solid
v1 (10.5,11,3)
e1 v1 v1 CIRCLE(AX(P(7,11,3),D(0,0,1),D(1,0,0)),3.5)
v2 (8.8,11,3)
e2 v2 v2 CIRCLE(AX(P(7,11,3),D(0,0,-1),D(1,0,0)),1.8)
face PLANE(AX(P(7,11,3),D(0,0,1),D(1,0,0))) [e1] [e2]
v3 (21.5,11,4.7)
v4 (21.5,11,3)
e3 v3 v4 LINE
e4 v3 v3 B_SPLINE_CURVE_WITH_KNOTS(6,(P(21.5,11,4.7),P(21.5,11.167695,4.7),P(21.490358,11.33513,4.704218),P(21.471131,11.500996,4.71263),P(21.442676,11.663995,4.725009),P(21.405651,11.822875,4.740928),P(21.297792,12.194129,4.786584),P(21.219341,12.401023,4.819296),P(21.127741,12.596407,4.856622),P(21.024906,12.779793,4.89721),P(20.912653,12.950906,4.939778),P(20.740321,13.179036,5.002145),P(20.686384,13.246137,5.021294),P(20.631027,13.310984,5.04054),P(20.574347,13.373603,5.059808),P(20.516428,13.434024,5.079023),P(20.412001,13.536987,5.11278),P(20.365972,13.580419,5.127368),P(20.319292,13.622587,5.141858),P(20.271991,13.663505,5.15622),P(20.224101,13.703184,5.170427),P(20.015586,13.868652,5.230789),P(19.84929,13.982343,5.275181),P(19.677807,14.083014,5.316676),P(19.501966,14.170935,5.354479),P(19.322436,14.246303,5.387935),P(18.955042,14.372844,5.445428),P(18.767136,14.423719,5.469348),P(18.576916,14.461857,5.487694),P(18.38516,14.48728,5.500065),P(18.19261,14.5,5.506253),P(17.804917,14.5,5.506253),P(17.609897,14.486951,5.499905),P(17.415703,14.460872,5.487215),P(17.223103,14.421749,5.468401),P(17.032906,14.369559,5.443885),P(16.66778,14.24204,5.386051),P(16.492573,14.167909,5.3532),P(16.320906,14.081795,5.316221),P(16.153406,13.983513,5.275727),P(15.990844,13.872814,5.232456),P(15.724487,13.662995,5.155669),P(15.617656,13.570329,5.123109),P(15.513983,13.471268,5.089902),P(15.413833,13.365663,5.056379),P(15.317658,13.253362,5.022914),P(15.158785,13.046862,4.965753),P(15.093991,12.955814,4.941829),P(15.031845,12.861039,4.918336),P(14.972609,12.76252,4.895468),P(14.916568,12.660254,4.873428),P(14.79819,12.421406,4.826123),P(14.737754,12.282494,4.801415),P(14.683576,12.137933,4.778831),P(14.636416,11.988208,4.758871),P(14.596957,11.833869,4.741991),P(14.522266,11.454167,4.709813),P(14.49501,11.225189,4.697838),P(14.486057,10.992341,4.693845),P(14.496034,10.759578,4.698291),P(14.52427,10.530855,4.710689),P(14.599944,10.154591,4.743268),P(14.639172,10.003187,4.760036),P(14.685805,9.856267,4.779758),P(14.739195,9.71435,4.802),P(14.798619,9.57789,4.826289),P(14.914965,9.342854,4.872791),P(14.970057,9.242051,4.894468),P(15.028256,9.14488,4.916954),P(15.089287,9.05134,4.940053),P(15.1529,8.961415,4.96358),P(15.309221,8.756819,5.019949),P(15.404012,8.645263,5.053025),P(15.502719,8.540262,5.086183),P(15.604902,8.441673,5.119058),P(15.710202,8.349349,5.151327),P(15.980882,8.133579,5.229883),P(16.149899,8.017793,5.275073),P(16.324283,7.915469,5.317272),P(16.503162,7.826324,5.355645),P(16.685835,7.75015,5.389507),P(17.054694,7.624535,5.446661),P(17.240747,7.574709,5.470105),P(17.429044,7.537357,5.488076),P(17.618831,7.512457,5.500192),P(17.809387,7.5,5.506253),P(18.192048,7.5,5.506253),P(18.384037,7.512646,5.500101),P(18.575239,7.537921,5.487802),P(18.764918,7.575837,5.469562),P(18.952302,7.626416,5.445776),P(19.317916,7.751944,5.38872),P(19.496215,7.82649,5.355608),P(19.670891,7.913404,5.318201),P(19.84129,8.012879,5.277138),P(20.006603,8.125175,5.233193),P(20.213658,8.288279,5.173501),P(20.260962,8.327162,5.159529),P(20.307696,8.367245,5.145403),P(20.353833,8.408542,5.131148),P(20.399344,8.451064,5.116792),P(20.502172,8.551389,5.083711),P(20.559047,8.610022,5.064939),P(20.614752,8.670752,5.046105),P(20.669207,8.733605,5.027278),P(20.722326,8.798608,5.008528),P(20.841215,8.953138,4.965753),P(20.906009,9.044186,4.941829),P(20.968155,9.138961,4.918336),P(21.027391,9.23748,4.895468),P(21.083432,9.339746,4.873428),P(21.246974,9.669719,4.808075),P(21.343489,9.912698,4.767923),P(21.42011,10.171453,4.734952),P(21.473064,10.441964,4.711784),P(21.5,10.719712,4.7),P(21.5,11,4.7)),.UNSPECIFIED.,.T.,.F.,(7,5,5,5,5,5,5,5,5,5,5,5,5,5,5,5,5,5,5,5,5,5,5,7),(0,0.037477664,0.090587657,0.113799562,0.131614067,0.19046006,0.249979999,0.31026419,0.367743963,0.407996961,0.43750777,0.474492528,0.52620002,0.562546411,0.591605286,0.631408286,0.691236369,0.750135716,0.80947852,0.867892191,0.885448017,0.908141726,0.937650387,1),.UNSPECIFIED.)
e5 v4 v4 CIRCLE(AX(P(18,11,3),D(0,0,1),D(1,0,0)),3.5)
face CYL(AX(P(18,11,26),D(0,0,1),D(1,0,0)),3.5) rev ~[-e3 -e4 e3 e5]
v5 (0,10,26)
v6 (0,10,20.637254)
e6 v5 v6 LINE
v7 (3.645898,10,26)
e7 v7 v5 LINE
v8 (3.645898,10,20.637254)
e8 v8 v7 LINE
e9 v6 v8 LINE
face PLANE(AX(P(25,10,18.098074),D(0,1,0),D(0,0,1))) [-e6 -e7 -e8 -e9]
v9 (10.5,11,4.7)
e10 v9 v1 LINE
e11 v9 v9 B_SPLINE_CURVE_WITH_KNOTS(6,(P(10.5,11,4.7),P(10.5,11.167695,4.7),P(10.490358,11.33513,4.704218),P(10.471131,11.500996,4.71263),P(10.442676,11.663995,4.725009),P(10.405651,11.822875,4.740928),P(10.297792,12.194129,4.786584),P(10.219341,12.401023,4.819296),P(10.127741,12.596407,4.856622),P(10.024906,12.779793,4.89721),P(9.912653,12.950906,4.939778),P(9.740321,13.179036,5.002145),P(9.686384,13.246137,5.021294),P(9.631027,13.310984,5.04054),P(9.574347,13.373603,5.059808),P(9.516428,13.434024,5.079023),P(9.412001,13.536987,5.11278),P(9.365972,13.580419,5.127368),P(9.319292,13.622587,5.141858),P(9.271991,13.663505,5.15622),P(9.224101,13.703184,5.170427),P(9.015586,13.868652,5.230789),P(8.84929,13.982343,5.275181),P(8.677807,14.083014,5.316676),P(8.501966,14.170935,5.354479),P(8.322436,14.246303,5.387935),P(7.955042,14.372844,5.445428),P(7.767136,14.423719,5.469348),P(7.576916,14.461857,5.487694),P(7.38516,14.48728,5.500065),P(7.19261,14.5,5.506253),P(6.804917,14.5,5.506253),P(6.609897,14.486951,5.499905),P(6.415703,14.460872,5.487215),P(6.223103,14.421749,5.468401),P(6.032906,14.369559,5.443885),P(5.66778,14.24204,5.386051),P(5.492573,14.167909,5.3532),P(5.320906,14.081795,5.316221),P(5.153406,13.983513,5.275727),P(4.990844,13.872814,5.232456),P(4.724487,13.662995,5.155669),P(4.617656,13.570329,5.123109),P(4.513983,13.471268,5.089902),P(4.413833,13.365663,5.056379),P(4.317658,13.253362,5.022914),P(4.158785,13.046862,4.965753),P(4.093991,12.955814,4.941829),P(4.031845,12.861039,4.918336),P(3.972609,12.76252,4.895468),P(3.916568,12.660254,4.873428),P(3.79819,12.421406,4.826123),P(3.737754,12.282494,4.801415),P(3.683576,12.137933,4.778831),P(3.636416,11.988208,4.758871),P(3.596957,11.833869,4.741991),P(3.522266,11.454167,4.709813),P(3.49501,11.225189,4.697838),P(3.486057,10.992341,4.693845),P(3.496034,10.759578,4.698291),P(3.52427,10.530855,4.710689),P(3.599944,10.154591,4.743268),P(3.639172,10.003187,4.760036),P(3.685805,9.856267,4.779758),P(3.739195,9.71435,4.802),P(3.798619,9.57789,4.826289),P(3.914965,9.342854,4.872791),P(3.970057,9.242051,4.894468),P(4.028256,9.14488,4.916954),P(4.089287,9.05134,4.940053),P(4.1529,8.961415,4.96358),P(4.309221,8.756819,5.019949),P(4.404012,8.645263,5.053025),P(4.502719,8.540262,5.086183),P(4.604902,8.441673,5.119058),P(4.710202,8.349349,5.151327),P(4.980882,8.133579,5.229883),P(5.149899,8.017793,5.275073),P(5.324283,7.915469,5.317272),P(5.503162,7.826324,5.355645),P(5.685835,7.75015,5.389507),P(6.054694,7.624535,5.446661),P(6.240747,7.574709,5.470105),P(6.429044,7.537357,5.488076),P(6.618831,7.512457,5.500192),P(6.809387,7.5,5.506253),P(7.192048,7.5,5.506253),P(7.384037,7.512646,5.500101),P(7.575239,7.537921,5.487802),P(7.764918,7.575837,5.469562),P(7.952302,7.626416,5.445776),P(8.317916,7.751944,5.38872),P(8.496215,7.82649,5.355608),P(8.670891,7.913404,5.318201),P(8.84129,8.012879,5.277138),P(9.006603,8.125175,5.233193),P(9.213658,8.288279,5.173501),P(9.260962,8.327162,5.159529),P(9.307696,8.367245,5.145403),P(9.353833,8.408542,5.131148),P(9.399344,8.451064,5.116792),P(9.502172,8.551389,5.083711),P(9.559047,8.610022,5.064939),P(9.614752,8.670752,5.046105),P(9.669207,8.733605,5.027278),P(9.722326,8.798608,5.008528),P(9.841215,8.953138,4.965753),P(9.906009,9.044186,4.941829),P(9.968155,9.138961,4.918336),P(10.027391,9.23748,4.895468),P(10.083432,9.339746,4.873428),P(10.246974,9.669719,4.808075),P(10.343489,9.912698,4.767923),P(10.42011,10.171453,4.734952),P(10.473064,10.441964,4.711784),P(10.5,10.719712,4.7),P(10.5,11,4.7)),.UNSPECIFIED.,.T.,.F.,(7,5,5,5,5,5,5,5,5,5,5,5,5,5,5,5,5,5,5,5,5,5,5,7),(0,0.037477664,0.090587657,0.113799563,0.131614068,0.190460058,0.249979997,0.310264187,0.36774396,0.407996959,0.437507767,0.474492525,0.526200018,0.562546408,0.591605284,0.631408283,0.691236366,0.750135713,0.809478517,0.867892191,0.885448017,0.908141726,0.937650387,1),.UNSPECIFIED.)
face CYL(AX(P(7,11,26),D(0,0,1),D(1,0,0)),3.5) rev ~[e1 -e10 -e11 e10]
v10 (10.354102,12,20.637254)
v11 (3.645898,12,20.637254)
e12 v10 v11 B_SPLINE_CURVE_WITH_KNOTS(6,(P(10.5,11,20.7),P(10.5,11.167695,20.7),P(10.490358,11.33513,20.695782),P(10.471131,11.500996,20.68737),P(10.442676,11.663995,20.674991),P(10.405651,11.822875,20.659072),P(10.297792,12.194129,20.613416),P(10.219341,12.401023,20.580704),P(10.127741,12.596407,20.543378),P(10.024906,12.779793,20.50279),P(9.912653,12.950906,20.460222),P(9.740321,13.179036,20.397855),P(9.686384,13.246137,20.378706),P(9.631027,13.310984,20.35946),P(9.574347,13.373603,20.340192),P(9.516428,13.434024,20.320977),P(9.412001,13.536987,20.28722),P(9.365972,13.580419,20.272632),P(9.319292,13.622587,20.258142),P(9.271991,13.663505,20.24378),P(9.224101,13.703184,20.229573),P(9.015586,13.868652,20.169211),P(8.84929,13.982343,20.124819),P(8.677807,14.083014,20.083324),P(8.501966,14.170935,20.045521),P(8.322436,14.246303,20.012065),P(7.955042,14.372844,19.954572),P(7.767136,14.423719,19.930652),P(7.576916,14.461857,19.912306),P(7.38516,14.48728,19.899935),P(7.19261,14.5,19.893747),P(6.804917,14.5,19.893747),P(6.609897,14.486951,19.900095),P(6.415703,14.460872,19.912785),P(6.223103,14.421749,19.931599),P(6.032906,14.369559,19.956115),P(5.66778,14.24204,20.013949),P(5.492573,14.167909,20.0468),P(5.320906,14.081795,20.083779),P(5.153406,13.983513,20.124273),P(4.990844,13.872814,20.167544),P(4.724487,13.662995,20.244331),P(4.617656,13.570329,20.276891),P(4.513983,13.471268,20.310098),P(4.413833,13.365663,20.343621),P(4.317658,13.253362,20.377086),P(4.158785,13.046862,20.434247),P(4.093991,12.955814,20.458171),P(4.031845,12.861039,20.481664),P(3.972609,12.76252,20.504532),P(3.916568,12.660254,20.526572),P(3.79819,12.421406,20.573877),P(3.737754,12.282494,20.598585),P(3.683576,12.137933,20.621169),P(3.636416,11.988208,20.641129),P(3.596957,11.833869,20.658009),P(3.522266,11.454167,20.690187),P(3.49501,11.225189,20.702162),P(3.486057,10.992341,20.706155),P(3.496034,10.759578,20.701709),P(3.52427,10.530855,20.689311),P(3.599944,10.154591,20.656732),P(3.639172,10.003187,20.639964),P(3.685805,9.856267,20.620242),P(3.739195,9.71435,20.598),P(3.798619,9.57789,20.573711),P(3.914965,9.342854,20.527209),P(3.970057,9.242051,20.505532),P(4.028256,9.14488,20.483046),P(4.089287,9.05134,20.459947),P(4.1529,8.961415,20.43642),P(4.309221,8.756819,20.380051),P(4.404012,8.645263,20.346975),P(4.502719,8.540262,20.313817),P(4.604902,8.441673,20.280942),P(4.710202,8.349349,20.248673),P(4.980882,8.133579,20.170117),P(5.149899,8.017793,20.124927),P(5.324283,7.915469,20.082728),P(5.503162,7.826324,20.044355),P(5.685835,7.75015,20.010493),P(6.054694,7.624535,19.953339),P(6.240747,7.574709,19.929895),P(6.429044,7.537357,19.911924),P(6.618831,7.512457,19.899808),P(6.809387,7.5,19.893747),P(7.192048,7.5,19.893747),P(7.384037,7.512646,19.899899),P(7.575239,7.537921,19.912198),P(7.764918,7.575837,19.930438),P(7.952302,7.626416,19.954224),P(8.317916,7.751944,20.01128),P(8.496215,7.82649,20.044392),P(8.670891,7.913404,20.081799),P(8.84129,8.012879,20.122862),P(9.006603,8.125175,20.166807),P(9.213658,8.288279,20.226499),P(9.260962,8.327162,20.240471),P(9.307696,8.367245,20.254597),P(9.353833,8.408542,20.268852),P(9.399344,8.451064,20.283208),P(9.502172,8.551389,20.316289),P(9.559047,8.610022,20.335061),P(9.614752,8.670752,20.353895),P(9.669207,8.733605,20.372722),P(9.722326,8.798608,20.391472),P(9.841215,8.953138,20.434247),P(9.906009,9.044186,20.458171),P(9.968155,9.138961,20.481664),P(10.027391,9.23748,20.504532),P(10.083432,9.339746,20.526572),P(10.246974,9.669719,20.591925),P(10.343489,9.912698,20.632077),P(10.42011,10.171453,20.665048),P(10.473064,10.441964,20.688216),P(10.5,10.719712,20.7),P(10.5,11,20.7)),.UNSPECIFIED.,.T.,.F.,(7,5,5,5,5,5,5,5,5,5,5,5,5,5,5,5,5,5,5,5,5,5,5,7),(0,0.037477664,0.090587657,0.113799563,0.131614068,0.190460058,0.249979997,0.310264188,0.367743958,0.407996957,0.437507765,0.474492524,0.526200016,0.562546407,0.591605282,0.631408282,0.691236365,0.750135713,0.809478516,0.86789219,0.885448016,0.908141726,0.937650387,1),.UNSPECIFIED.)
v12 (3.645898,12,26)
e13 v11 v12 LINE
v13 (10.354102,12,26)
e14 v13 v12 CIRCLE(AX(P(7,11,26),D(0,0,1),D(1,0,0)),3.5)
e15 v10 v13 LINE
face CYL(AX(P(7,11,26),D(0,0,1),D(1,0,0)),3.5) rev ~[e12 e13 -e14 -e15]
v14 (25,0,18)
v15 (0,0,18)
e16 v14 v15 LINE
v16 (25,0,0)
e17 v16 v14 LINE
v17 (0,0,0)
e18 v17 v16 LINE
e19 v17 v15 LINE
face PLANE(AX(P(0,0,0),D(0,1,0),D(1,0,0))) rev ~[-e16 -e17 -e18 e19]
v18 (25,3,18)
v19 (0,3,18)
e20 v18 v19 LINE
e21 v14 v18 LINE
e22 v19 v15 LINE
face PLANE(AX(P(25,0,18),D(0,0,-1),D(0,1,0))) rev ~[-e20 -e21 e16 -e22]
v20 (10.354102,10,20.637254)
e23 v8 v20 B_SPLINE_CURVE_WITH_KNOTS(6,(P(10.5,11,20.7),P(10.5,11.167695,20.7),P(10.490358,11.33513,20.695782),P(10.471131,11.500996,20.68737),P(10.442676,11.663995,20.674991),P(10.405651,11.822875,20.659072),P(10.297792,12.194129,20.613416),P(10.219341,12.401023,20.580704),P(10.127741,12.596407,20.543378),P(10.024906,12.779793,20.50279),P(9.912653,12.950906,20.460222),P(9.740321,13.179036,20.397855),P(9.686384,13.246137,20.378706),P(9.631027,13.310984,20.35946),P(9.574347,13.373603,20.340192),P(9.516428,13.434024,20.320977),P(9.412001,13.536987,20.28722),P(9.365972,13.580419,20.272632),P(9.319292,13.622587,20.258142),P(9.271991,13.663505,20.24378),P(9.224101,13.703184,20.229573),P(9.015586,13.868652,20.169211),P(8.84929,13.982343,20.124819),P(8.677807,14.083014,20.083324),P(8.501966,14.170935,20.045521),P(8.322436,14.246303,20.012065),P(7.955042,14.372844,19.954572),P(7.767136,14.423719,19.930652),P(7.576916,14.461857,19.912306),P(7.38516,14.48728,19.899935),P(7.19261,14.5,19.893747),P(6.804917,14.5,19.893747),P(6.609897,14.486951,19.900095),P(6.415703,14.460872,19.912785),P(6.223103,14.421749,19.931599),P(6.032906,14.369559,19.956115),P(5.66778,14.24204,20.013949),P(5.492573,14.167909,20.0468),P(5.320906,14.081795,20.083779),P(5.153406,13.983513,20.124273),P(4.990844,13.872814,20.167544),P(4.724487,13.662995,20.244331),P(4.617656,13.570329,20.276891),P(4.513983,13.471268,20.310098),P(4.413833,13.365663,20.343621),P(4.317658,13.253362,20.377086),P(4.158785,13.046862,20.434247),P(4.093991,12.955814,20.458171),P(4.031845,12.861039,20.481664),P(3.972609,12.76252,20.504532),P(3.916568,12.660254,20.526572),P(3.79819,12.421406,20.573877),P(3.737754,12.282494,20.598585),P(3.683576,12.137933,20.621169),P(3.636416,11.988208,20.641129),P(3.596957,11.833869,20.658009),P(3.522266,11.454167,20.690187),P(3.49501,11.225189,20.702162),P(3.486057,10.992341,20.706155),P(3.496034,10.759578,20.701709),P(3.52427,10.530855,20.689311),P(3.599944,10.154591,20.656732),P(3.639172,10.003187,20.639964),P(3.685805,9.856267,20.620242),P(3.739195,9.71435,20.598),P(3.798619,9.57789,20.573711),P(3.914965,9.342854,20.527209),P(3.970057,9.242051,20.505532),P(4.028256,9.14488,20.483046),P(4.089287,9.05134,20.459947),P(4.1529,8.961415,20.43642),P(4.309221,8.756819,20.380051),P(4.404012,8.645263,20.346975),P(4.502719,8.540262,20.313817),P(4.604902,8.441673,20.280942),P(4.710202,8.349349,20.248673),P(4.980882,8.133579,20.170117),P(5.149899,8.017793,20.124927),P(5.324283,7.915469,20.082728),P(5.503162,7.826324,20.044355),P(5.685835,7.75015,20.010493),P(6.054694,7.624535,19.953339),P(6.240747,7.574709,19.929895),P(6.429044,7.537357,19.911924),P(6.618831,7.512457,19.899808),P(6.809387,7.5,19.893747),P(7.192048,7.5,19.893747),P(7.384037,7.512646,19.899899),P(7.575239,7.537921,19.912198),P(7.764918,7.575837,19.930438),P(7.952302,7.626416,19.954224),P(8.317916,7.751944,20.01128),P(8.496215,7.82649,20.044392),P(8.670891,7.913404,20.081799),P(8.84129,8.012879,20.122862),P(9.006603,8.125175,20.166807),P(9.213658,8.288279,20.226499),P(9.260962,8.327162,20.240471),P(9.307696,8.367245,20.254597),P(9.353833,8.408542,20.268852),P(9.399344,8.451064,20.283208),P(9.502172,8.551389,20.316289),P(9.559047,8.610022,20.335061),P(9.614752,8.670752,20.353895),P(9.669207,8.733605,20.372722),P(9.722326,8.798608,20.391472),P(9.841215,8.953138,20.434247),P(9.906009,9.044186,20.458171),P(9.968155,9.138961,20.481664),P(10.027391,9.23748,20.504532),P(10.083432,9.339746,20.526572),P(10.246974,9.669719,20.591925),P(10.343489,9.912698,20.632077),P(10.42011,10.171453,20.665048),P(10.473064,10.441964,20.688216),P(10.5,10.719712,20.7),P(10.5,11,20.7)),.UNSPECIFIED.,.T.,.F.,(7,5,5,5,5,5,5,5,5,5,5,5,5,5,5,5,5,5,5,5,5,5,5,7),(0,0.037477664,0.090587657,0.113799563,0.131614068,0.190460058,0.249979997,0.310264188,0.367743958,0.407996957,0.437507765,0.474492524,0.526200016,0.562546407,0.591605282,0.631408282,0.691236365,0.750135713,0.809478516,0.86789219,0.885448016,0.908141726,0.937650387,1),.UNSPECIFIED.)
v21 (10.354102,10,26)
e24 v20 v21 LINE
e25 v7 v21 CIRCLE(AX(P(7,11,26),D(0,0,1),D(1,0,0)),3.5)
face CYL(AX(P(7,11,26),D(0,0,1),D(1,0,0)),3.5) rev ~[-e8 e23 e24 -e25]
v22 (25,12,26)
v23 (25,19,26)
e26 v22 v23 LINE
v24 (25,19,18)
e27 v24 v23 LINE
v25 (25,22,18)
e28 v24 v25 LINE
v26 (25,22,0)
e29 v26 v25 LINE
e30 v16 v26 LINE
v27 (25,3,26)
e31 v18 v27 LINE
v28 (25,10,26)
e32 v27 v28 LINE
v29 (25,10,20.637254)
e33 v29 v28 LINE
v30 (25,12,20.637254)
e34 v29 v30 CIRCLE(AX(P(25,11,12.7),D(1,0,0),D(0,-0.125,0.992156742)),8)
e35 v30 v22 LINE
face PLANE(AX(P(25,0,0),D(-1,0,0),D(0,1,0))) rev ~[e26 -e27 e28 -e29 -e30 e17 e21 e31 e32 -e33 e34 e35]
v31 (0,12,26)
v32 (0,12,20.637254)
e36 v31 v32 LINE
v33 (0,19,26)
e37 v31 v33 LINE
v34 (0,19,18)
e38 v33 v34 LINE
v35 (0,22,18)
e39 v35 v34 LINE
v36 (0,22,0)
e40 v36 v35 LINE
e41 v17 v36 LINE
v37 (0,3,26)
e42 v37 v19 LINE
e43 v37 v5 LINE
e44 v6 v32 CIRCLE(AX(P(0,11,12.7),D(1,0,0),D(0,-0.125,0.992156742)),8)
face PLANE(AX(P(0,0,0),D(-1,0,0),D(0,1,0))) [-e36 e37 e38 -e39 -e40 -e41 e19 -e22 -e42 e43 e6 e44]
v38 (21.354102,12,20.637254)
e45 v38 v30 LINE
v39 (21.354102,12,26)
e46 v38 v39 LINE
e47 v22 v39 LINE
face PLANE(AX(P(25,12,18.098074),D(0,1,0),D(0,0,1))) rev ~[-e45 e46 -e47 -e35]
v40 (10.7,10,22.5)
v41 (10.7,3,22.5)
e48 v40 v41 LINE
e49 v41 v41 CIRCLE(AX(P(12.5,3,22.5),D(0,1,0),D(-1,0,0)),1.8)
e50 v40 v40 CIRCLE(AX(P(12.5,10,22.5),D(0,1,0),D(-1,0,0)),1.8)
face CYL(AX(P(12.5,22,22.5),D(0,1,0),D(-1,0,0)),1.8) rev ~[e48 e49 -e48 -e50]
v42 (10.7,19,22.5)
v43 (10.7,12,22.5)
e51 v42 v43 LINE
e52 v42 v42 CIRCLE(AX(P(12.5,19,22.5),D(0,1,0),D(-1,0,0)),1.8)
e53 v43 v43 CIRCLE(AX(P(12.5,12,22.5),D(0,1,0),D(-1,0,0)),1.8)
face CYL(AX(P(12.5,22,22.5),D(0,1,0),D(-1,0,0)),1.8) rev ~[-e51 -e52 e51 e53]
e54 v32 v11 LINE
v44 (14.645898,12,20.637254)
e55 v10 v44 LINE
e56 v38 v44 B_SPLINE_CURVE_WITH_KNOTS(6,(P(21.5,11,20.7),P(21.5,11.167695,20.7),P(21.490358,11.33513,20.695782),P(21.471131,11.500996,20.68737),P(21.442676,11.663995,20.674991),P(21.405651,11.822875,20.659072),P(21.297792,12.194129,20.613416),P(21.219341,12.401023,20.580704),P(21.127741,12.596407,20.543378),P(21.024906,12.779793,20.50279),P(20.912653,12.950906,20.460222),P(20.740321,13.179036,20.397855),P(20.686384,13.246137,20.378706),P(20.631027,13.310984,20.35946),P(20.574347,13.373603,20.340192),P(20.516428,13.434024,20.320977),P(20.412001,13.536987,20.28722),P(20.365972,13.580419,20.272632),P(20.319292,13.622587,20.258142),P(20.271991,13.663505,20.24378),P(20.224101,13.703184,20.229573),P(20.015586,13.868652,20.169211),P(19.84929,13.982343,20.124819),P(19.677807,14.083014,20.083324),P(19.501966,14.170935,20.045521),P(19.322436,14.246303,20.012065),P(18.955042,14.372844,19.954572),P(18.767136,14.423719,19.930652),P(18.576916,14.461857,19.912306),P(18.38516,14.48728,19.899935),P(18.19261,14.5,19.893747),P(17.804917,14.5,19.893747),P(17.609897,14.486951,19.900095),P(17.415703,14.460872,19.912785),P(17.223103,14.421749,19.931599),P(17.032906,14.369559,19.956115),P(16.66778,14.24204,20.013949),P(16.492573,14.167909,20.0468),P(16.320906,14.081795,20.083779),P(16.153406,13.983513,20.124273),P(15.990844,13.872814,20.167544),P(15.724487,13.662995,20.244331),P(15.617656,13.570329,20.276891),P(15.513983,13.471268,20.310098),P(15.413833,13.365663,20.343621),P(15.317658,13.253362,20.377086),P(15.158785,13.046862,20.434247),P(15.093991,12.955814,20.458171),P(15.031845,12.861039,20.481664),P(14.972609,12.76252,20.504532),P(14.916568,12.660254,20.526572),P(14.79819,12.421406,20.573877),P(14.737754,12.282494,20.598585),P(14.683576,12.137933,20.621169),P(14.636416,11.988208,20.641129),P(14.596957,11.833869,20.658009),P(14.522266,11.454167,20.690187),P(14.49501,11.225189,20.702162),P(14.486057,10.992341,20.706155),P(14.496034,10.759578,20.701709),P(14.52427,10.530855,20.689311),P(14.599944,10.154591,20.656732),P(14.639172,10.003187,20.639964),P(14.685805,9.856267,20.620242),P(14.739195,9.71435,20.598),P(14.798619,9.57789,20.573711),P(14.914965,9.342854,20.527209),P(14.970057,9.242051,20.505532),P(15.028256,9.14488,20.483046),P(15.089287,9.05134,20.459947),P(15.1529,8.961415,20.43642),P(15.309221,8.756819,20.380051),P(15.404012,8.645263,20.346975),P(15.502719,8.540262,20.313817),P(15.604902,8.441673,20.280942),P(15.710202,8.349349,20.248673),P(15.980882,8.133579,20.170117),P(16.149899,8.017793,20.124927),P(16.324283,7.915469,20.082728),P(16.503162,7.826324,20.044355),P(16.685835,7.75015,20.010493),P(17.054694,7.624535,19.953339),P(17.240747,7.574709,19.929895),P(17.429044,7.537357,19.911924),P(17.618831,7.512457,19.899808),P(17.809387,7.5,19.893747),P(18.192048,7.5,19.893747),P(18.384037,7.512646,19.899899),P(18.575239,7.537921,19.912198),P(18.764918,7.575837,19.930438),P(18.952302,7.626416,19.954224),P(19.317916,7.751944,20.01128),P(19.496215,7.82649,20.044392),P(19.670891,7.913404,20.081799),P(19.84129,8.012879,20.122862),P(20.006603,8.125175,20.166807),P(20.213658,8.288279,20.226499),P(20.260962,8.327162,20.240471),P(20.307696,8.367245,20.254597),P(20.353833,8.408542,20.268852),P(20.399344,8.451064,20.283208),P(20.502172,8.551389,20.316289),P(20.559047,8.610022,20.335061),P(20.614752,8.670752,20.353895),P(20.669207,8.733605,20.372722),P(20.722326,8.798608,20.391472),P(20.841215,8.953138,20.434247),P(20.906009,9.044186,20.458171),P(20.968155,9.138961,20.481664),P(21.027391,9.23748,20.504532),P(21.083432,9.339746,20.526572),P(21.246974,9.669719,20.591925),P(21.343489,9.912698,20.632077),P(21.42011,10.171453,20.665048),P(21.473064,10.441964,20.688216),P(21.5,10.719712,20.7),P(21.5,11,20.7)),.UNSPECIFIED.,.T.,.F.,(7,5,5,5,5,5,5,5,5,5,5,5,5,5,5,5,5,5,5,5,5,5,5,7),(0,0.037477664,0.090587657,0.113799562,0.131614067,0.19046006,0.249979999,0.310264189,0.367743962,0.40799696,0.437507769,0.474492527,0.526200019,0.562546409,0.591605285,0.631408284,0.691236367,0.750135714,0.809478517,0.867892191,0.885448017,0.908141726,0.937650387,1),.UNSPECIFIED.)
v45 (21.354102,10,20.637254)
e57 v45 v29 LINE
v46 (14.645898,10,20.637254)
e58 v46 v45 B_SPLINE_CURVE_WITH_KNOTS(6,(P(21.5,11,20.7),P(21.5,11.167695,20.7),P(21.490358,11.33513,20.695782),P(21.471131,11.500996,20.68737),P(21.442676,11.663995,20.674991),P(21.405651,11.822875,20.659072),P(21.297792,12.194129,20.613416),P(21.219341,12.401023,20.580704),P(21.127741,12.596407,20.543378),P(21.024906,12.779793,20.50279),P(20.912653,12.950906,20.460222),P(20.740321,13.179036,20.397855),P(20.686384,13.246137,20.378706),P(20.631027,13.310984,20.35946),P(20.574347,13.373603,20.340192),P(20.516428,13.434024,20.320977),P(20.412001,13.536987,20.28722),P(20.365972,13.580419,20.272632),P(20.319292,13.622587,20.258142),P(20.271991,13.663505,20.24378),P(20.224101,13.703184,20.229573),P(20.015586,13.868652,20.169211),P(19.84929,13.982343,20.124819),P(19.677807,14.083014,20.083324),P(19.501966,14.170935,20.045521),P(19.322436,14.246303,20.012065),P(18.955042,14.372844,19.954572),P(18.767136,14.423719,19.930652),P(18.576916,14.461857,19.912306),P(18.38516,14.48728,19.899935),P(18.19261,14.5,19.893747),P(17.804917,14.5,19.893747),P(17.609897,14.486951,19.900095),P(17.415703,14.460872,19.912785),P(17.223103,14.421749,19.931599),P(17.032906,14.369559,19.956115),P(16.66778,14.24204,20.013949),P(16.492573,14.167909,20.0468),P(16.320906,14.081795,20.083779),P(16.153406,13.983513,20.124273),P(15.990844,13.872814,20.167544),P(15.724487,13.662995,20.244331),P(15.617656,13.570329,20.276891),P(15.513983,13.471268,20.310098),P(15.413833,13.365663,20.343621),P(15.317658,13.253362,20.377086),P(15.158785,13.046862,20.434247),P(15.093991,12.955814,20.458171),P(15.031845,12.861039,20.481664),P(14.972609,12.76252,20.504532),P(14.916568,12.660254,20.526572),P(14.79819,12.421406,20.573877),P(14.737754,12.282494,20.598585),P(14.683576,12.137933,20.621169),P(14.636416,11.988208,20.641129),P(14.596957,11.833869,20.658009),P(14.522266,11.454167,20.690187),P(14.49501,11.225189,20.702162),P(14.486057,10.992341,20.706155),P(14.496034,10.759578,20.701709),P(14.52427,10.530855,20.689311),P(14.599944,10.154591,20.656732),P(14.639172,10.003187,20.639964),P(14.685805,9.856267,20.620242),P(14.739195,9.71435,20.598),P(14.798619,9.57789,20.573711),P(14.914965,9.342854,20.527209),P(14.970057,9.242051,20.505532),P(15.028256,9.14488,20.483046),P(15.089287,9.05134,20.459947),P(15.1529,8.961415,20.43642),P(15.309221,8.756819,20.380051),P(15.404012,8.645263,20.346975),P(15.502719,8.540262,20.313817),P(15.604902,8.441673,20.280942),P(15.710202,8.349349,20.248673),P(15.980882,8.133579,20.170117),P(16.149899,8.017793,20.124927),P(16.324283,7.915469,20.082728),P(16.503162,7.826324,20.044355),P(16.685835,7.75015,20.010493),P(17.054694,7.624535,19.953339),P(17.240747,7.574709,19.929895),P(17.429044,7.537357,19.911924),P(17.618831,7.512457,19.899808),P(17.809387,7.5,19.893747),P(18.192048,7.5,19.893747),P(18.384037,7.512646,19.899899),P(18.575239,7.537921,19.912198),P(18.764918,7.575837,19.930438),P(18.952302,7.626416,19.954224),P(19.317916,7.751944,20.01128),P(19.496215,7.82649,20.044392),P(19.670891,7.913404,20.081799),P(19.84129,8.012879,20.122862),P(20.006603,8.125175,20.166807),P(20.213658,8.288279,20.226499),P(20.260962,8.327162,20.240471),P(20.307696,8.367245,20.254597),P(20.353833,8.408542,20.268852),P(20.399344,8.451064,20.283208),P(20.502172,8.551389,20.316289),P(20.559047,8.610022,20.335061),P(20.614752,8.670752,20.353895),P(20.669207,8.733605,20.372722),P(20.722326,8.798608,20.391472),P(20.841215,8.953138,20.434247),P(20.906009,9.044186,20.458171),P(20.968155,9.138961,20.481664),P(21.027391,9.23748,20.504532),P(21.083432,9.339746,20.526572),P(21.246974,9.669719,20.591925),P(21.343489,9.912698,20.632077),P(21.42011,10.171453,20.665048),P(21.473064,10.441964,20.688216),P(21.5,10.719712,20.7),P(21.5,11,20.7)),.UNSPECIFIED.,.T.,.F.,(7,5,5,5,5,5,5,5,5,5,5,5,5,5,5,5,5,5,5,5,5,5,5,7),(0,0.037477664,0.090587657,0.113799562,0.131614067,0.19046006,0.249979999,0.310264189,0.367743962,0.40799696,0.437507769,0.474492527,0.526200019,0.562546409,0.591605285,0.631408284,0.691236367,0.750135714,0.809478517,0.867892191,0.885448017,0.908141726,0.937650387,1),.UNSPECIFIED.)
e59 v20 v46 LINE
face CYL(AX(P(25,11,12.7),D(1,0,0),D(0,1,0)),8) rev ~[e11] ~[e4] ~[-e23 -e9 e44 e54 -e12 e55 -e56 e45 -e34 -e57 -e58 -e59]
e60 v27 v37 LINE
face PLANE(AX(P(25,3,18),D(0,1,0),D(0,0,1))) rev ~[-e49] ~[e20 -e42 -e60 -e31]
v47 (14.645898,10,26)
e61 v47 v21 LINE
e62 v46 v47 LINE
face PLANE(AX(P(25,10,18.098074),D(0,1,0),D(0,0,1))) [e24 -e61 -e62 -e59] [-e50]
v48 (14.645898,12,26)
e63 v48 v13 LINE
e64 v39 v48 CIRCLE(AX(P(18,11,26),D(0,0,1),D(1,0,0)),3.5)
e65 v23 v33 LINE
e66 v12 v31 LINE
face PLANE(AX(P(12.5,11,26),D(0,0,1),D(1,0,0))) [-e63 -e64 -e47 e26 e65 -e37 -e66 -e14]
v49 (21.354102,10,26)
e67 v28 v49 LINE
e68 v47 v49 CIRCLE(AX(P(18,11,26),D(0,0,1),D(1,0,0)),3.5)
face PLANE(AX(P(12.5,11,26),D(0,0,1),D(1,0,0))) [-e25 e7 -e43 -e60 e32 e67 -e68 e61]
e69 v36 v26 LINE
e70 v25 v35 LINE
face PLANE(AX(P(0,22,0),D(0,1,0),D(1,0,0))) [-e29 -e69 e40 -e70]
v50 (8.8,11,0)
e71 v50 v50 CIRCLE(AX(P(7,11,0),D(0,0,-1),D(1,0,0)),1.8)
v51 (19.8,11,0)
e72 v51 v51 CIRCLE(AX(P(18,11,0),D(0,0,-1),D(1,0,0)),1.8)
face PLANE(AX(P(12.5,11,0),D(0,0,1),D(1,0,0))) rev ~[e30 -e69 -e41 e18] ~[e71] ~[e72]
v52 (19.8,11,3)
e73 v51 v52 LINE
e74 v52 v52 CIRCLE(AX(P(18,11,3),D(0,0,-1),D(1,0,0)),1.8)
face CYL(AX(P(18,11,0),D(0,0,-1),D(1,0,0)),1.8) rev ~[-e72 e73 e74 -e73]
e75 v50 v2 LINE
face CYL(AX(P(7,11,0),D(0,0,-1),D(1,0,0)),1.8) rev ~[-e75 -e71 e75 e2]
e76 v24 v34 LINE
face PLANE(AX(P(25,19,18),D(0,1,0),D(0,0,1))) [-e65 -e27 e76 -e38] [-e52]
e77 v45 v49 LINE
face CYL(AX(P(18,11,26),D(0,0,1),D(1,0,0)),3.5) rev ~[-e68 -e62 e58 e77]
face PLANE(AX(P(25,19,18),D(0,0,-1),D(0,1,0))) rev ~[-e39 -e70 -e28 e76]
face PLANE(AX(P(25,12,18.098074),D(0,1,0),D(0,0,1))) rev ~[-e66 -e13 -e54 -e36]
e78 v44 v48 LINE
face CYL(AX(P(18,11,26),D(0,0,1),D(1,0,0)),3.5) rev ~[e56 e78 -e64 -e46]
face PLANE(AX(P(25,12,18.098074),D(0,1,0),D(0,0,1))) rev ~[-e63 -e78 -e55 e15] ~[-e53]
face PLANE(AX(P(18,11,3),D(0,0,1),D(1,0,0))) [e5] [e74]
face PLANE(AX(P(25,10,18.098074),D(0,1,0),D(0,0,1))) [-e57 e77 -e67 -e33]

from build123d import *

# Parameters (mm, degrees)
BOX_W           = 25
BOX_H           = 22
BOX_DEPTH       = 26
SKETCH_R        = 8
POCKET_DEPTH    = 25.001
SKETCH001_R     = 3.5
POCKET001_DEPTH = 23
SKETCH002_R     = 1.8
POCKET002_DEPTH = 5
SKETCH003_R     = 1.8
POCKET003_DEPTH = 22.001
SKETCH004_W     = 2
SKETCH004_H     = 11.298807
SKETCH004_W_2   = 3
SKETCH004_H_2   = 8
POCKET004_DEPTH = 25.001


with BuildPart() as part:
    # Box → Box (new body)
    with BuildSketch(Plane.XY):
        with Locations((12.5, 11)):
            Rectangle(BOX_W, BOX_H)
    extrude(amount=BOX_DEPTH)

    # Sketch → Pocket (cut, through all)
    with BuildSketch(Plane.YZ.offset(25)):
        with Locations((11, 12.7)):
            Circle(SKETCH_R)
    extrude(amount=-POCKET_DEPTH, mode=Mode.SUBTRACT)

    # Sketch001 → Pocket001 (cut)
    with BuildSketch(Plane.XY.offset(26)):
        with Locations((7, 11)):
            Circle(SKETCH001_R)
        with Locations((18, 11)):
            Circle(SKETCH001_R)
    extrude(amount=-POCKET001_DEPTH, mode=Mode.SUBTRACT)

    # Sketch002 → Pocket002 (cut)
    with BuildSketch(Plane(origin=(0, 0, 0), x_dir=(1, 0, 0), z_dir=(0, 0, -1))):
        with Locations((7, -11)):
            Circle(SKETCH002_R)
        with Locations((18, -11)):
            Circle(SKETCH002_R)
    extrude(amount=-POCKET002_DEPTH, mode=Mode.SUBTRACT)

    # Sketch003 → Pocket003 (cut, through all)
    with BuildSketch(Plane(origin=(0, 22, 0), x_dir=(-1, 0, 0), z_dir=(0, 1, 0))):
        with Locations((-12.5, 22.5)):
            Circle(SKETCH003_R)
    extrude(amount=-POCKET003_DEPTH, mode=Mode.SUBTRACT)

    # Sketch004 → Pocket004 (cut, through all)
    with BuildSketch(Plane.YZ.offset(25)):
        with Locations((11, 23.747477)):
            Rectangle(SKETCH004_W, SKETCH004_H)
        with Locations((1.5, 22)):
            Rectangle(SKETCH004_W_2, SKETCH004_H_2)
        with Locations((20.5, 22)):
            Rectangle(SKETCH004_W_2, SKETCH004_H_2)
    extrude(amount=-POCKET004_DEPTH, mode=Mode.SUBTRACT)


solid = part.part
